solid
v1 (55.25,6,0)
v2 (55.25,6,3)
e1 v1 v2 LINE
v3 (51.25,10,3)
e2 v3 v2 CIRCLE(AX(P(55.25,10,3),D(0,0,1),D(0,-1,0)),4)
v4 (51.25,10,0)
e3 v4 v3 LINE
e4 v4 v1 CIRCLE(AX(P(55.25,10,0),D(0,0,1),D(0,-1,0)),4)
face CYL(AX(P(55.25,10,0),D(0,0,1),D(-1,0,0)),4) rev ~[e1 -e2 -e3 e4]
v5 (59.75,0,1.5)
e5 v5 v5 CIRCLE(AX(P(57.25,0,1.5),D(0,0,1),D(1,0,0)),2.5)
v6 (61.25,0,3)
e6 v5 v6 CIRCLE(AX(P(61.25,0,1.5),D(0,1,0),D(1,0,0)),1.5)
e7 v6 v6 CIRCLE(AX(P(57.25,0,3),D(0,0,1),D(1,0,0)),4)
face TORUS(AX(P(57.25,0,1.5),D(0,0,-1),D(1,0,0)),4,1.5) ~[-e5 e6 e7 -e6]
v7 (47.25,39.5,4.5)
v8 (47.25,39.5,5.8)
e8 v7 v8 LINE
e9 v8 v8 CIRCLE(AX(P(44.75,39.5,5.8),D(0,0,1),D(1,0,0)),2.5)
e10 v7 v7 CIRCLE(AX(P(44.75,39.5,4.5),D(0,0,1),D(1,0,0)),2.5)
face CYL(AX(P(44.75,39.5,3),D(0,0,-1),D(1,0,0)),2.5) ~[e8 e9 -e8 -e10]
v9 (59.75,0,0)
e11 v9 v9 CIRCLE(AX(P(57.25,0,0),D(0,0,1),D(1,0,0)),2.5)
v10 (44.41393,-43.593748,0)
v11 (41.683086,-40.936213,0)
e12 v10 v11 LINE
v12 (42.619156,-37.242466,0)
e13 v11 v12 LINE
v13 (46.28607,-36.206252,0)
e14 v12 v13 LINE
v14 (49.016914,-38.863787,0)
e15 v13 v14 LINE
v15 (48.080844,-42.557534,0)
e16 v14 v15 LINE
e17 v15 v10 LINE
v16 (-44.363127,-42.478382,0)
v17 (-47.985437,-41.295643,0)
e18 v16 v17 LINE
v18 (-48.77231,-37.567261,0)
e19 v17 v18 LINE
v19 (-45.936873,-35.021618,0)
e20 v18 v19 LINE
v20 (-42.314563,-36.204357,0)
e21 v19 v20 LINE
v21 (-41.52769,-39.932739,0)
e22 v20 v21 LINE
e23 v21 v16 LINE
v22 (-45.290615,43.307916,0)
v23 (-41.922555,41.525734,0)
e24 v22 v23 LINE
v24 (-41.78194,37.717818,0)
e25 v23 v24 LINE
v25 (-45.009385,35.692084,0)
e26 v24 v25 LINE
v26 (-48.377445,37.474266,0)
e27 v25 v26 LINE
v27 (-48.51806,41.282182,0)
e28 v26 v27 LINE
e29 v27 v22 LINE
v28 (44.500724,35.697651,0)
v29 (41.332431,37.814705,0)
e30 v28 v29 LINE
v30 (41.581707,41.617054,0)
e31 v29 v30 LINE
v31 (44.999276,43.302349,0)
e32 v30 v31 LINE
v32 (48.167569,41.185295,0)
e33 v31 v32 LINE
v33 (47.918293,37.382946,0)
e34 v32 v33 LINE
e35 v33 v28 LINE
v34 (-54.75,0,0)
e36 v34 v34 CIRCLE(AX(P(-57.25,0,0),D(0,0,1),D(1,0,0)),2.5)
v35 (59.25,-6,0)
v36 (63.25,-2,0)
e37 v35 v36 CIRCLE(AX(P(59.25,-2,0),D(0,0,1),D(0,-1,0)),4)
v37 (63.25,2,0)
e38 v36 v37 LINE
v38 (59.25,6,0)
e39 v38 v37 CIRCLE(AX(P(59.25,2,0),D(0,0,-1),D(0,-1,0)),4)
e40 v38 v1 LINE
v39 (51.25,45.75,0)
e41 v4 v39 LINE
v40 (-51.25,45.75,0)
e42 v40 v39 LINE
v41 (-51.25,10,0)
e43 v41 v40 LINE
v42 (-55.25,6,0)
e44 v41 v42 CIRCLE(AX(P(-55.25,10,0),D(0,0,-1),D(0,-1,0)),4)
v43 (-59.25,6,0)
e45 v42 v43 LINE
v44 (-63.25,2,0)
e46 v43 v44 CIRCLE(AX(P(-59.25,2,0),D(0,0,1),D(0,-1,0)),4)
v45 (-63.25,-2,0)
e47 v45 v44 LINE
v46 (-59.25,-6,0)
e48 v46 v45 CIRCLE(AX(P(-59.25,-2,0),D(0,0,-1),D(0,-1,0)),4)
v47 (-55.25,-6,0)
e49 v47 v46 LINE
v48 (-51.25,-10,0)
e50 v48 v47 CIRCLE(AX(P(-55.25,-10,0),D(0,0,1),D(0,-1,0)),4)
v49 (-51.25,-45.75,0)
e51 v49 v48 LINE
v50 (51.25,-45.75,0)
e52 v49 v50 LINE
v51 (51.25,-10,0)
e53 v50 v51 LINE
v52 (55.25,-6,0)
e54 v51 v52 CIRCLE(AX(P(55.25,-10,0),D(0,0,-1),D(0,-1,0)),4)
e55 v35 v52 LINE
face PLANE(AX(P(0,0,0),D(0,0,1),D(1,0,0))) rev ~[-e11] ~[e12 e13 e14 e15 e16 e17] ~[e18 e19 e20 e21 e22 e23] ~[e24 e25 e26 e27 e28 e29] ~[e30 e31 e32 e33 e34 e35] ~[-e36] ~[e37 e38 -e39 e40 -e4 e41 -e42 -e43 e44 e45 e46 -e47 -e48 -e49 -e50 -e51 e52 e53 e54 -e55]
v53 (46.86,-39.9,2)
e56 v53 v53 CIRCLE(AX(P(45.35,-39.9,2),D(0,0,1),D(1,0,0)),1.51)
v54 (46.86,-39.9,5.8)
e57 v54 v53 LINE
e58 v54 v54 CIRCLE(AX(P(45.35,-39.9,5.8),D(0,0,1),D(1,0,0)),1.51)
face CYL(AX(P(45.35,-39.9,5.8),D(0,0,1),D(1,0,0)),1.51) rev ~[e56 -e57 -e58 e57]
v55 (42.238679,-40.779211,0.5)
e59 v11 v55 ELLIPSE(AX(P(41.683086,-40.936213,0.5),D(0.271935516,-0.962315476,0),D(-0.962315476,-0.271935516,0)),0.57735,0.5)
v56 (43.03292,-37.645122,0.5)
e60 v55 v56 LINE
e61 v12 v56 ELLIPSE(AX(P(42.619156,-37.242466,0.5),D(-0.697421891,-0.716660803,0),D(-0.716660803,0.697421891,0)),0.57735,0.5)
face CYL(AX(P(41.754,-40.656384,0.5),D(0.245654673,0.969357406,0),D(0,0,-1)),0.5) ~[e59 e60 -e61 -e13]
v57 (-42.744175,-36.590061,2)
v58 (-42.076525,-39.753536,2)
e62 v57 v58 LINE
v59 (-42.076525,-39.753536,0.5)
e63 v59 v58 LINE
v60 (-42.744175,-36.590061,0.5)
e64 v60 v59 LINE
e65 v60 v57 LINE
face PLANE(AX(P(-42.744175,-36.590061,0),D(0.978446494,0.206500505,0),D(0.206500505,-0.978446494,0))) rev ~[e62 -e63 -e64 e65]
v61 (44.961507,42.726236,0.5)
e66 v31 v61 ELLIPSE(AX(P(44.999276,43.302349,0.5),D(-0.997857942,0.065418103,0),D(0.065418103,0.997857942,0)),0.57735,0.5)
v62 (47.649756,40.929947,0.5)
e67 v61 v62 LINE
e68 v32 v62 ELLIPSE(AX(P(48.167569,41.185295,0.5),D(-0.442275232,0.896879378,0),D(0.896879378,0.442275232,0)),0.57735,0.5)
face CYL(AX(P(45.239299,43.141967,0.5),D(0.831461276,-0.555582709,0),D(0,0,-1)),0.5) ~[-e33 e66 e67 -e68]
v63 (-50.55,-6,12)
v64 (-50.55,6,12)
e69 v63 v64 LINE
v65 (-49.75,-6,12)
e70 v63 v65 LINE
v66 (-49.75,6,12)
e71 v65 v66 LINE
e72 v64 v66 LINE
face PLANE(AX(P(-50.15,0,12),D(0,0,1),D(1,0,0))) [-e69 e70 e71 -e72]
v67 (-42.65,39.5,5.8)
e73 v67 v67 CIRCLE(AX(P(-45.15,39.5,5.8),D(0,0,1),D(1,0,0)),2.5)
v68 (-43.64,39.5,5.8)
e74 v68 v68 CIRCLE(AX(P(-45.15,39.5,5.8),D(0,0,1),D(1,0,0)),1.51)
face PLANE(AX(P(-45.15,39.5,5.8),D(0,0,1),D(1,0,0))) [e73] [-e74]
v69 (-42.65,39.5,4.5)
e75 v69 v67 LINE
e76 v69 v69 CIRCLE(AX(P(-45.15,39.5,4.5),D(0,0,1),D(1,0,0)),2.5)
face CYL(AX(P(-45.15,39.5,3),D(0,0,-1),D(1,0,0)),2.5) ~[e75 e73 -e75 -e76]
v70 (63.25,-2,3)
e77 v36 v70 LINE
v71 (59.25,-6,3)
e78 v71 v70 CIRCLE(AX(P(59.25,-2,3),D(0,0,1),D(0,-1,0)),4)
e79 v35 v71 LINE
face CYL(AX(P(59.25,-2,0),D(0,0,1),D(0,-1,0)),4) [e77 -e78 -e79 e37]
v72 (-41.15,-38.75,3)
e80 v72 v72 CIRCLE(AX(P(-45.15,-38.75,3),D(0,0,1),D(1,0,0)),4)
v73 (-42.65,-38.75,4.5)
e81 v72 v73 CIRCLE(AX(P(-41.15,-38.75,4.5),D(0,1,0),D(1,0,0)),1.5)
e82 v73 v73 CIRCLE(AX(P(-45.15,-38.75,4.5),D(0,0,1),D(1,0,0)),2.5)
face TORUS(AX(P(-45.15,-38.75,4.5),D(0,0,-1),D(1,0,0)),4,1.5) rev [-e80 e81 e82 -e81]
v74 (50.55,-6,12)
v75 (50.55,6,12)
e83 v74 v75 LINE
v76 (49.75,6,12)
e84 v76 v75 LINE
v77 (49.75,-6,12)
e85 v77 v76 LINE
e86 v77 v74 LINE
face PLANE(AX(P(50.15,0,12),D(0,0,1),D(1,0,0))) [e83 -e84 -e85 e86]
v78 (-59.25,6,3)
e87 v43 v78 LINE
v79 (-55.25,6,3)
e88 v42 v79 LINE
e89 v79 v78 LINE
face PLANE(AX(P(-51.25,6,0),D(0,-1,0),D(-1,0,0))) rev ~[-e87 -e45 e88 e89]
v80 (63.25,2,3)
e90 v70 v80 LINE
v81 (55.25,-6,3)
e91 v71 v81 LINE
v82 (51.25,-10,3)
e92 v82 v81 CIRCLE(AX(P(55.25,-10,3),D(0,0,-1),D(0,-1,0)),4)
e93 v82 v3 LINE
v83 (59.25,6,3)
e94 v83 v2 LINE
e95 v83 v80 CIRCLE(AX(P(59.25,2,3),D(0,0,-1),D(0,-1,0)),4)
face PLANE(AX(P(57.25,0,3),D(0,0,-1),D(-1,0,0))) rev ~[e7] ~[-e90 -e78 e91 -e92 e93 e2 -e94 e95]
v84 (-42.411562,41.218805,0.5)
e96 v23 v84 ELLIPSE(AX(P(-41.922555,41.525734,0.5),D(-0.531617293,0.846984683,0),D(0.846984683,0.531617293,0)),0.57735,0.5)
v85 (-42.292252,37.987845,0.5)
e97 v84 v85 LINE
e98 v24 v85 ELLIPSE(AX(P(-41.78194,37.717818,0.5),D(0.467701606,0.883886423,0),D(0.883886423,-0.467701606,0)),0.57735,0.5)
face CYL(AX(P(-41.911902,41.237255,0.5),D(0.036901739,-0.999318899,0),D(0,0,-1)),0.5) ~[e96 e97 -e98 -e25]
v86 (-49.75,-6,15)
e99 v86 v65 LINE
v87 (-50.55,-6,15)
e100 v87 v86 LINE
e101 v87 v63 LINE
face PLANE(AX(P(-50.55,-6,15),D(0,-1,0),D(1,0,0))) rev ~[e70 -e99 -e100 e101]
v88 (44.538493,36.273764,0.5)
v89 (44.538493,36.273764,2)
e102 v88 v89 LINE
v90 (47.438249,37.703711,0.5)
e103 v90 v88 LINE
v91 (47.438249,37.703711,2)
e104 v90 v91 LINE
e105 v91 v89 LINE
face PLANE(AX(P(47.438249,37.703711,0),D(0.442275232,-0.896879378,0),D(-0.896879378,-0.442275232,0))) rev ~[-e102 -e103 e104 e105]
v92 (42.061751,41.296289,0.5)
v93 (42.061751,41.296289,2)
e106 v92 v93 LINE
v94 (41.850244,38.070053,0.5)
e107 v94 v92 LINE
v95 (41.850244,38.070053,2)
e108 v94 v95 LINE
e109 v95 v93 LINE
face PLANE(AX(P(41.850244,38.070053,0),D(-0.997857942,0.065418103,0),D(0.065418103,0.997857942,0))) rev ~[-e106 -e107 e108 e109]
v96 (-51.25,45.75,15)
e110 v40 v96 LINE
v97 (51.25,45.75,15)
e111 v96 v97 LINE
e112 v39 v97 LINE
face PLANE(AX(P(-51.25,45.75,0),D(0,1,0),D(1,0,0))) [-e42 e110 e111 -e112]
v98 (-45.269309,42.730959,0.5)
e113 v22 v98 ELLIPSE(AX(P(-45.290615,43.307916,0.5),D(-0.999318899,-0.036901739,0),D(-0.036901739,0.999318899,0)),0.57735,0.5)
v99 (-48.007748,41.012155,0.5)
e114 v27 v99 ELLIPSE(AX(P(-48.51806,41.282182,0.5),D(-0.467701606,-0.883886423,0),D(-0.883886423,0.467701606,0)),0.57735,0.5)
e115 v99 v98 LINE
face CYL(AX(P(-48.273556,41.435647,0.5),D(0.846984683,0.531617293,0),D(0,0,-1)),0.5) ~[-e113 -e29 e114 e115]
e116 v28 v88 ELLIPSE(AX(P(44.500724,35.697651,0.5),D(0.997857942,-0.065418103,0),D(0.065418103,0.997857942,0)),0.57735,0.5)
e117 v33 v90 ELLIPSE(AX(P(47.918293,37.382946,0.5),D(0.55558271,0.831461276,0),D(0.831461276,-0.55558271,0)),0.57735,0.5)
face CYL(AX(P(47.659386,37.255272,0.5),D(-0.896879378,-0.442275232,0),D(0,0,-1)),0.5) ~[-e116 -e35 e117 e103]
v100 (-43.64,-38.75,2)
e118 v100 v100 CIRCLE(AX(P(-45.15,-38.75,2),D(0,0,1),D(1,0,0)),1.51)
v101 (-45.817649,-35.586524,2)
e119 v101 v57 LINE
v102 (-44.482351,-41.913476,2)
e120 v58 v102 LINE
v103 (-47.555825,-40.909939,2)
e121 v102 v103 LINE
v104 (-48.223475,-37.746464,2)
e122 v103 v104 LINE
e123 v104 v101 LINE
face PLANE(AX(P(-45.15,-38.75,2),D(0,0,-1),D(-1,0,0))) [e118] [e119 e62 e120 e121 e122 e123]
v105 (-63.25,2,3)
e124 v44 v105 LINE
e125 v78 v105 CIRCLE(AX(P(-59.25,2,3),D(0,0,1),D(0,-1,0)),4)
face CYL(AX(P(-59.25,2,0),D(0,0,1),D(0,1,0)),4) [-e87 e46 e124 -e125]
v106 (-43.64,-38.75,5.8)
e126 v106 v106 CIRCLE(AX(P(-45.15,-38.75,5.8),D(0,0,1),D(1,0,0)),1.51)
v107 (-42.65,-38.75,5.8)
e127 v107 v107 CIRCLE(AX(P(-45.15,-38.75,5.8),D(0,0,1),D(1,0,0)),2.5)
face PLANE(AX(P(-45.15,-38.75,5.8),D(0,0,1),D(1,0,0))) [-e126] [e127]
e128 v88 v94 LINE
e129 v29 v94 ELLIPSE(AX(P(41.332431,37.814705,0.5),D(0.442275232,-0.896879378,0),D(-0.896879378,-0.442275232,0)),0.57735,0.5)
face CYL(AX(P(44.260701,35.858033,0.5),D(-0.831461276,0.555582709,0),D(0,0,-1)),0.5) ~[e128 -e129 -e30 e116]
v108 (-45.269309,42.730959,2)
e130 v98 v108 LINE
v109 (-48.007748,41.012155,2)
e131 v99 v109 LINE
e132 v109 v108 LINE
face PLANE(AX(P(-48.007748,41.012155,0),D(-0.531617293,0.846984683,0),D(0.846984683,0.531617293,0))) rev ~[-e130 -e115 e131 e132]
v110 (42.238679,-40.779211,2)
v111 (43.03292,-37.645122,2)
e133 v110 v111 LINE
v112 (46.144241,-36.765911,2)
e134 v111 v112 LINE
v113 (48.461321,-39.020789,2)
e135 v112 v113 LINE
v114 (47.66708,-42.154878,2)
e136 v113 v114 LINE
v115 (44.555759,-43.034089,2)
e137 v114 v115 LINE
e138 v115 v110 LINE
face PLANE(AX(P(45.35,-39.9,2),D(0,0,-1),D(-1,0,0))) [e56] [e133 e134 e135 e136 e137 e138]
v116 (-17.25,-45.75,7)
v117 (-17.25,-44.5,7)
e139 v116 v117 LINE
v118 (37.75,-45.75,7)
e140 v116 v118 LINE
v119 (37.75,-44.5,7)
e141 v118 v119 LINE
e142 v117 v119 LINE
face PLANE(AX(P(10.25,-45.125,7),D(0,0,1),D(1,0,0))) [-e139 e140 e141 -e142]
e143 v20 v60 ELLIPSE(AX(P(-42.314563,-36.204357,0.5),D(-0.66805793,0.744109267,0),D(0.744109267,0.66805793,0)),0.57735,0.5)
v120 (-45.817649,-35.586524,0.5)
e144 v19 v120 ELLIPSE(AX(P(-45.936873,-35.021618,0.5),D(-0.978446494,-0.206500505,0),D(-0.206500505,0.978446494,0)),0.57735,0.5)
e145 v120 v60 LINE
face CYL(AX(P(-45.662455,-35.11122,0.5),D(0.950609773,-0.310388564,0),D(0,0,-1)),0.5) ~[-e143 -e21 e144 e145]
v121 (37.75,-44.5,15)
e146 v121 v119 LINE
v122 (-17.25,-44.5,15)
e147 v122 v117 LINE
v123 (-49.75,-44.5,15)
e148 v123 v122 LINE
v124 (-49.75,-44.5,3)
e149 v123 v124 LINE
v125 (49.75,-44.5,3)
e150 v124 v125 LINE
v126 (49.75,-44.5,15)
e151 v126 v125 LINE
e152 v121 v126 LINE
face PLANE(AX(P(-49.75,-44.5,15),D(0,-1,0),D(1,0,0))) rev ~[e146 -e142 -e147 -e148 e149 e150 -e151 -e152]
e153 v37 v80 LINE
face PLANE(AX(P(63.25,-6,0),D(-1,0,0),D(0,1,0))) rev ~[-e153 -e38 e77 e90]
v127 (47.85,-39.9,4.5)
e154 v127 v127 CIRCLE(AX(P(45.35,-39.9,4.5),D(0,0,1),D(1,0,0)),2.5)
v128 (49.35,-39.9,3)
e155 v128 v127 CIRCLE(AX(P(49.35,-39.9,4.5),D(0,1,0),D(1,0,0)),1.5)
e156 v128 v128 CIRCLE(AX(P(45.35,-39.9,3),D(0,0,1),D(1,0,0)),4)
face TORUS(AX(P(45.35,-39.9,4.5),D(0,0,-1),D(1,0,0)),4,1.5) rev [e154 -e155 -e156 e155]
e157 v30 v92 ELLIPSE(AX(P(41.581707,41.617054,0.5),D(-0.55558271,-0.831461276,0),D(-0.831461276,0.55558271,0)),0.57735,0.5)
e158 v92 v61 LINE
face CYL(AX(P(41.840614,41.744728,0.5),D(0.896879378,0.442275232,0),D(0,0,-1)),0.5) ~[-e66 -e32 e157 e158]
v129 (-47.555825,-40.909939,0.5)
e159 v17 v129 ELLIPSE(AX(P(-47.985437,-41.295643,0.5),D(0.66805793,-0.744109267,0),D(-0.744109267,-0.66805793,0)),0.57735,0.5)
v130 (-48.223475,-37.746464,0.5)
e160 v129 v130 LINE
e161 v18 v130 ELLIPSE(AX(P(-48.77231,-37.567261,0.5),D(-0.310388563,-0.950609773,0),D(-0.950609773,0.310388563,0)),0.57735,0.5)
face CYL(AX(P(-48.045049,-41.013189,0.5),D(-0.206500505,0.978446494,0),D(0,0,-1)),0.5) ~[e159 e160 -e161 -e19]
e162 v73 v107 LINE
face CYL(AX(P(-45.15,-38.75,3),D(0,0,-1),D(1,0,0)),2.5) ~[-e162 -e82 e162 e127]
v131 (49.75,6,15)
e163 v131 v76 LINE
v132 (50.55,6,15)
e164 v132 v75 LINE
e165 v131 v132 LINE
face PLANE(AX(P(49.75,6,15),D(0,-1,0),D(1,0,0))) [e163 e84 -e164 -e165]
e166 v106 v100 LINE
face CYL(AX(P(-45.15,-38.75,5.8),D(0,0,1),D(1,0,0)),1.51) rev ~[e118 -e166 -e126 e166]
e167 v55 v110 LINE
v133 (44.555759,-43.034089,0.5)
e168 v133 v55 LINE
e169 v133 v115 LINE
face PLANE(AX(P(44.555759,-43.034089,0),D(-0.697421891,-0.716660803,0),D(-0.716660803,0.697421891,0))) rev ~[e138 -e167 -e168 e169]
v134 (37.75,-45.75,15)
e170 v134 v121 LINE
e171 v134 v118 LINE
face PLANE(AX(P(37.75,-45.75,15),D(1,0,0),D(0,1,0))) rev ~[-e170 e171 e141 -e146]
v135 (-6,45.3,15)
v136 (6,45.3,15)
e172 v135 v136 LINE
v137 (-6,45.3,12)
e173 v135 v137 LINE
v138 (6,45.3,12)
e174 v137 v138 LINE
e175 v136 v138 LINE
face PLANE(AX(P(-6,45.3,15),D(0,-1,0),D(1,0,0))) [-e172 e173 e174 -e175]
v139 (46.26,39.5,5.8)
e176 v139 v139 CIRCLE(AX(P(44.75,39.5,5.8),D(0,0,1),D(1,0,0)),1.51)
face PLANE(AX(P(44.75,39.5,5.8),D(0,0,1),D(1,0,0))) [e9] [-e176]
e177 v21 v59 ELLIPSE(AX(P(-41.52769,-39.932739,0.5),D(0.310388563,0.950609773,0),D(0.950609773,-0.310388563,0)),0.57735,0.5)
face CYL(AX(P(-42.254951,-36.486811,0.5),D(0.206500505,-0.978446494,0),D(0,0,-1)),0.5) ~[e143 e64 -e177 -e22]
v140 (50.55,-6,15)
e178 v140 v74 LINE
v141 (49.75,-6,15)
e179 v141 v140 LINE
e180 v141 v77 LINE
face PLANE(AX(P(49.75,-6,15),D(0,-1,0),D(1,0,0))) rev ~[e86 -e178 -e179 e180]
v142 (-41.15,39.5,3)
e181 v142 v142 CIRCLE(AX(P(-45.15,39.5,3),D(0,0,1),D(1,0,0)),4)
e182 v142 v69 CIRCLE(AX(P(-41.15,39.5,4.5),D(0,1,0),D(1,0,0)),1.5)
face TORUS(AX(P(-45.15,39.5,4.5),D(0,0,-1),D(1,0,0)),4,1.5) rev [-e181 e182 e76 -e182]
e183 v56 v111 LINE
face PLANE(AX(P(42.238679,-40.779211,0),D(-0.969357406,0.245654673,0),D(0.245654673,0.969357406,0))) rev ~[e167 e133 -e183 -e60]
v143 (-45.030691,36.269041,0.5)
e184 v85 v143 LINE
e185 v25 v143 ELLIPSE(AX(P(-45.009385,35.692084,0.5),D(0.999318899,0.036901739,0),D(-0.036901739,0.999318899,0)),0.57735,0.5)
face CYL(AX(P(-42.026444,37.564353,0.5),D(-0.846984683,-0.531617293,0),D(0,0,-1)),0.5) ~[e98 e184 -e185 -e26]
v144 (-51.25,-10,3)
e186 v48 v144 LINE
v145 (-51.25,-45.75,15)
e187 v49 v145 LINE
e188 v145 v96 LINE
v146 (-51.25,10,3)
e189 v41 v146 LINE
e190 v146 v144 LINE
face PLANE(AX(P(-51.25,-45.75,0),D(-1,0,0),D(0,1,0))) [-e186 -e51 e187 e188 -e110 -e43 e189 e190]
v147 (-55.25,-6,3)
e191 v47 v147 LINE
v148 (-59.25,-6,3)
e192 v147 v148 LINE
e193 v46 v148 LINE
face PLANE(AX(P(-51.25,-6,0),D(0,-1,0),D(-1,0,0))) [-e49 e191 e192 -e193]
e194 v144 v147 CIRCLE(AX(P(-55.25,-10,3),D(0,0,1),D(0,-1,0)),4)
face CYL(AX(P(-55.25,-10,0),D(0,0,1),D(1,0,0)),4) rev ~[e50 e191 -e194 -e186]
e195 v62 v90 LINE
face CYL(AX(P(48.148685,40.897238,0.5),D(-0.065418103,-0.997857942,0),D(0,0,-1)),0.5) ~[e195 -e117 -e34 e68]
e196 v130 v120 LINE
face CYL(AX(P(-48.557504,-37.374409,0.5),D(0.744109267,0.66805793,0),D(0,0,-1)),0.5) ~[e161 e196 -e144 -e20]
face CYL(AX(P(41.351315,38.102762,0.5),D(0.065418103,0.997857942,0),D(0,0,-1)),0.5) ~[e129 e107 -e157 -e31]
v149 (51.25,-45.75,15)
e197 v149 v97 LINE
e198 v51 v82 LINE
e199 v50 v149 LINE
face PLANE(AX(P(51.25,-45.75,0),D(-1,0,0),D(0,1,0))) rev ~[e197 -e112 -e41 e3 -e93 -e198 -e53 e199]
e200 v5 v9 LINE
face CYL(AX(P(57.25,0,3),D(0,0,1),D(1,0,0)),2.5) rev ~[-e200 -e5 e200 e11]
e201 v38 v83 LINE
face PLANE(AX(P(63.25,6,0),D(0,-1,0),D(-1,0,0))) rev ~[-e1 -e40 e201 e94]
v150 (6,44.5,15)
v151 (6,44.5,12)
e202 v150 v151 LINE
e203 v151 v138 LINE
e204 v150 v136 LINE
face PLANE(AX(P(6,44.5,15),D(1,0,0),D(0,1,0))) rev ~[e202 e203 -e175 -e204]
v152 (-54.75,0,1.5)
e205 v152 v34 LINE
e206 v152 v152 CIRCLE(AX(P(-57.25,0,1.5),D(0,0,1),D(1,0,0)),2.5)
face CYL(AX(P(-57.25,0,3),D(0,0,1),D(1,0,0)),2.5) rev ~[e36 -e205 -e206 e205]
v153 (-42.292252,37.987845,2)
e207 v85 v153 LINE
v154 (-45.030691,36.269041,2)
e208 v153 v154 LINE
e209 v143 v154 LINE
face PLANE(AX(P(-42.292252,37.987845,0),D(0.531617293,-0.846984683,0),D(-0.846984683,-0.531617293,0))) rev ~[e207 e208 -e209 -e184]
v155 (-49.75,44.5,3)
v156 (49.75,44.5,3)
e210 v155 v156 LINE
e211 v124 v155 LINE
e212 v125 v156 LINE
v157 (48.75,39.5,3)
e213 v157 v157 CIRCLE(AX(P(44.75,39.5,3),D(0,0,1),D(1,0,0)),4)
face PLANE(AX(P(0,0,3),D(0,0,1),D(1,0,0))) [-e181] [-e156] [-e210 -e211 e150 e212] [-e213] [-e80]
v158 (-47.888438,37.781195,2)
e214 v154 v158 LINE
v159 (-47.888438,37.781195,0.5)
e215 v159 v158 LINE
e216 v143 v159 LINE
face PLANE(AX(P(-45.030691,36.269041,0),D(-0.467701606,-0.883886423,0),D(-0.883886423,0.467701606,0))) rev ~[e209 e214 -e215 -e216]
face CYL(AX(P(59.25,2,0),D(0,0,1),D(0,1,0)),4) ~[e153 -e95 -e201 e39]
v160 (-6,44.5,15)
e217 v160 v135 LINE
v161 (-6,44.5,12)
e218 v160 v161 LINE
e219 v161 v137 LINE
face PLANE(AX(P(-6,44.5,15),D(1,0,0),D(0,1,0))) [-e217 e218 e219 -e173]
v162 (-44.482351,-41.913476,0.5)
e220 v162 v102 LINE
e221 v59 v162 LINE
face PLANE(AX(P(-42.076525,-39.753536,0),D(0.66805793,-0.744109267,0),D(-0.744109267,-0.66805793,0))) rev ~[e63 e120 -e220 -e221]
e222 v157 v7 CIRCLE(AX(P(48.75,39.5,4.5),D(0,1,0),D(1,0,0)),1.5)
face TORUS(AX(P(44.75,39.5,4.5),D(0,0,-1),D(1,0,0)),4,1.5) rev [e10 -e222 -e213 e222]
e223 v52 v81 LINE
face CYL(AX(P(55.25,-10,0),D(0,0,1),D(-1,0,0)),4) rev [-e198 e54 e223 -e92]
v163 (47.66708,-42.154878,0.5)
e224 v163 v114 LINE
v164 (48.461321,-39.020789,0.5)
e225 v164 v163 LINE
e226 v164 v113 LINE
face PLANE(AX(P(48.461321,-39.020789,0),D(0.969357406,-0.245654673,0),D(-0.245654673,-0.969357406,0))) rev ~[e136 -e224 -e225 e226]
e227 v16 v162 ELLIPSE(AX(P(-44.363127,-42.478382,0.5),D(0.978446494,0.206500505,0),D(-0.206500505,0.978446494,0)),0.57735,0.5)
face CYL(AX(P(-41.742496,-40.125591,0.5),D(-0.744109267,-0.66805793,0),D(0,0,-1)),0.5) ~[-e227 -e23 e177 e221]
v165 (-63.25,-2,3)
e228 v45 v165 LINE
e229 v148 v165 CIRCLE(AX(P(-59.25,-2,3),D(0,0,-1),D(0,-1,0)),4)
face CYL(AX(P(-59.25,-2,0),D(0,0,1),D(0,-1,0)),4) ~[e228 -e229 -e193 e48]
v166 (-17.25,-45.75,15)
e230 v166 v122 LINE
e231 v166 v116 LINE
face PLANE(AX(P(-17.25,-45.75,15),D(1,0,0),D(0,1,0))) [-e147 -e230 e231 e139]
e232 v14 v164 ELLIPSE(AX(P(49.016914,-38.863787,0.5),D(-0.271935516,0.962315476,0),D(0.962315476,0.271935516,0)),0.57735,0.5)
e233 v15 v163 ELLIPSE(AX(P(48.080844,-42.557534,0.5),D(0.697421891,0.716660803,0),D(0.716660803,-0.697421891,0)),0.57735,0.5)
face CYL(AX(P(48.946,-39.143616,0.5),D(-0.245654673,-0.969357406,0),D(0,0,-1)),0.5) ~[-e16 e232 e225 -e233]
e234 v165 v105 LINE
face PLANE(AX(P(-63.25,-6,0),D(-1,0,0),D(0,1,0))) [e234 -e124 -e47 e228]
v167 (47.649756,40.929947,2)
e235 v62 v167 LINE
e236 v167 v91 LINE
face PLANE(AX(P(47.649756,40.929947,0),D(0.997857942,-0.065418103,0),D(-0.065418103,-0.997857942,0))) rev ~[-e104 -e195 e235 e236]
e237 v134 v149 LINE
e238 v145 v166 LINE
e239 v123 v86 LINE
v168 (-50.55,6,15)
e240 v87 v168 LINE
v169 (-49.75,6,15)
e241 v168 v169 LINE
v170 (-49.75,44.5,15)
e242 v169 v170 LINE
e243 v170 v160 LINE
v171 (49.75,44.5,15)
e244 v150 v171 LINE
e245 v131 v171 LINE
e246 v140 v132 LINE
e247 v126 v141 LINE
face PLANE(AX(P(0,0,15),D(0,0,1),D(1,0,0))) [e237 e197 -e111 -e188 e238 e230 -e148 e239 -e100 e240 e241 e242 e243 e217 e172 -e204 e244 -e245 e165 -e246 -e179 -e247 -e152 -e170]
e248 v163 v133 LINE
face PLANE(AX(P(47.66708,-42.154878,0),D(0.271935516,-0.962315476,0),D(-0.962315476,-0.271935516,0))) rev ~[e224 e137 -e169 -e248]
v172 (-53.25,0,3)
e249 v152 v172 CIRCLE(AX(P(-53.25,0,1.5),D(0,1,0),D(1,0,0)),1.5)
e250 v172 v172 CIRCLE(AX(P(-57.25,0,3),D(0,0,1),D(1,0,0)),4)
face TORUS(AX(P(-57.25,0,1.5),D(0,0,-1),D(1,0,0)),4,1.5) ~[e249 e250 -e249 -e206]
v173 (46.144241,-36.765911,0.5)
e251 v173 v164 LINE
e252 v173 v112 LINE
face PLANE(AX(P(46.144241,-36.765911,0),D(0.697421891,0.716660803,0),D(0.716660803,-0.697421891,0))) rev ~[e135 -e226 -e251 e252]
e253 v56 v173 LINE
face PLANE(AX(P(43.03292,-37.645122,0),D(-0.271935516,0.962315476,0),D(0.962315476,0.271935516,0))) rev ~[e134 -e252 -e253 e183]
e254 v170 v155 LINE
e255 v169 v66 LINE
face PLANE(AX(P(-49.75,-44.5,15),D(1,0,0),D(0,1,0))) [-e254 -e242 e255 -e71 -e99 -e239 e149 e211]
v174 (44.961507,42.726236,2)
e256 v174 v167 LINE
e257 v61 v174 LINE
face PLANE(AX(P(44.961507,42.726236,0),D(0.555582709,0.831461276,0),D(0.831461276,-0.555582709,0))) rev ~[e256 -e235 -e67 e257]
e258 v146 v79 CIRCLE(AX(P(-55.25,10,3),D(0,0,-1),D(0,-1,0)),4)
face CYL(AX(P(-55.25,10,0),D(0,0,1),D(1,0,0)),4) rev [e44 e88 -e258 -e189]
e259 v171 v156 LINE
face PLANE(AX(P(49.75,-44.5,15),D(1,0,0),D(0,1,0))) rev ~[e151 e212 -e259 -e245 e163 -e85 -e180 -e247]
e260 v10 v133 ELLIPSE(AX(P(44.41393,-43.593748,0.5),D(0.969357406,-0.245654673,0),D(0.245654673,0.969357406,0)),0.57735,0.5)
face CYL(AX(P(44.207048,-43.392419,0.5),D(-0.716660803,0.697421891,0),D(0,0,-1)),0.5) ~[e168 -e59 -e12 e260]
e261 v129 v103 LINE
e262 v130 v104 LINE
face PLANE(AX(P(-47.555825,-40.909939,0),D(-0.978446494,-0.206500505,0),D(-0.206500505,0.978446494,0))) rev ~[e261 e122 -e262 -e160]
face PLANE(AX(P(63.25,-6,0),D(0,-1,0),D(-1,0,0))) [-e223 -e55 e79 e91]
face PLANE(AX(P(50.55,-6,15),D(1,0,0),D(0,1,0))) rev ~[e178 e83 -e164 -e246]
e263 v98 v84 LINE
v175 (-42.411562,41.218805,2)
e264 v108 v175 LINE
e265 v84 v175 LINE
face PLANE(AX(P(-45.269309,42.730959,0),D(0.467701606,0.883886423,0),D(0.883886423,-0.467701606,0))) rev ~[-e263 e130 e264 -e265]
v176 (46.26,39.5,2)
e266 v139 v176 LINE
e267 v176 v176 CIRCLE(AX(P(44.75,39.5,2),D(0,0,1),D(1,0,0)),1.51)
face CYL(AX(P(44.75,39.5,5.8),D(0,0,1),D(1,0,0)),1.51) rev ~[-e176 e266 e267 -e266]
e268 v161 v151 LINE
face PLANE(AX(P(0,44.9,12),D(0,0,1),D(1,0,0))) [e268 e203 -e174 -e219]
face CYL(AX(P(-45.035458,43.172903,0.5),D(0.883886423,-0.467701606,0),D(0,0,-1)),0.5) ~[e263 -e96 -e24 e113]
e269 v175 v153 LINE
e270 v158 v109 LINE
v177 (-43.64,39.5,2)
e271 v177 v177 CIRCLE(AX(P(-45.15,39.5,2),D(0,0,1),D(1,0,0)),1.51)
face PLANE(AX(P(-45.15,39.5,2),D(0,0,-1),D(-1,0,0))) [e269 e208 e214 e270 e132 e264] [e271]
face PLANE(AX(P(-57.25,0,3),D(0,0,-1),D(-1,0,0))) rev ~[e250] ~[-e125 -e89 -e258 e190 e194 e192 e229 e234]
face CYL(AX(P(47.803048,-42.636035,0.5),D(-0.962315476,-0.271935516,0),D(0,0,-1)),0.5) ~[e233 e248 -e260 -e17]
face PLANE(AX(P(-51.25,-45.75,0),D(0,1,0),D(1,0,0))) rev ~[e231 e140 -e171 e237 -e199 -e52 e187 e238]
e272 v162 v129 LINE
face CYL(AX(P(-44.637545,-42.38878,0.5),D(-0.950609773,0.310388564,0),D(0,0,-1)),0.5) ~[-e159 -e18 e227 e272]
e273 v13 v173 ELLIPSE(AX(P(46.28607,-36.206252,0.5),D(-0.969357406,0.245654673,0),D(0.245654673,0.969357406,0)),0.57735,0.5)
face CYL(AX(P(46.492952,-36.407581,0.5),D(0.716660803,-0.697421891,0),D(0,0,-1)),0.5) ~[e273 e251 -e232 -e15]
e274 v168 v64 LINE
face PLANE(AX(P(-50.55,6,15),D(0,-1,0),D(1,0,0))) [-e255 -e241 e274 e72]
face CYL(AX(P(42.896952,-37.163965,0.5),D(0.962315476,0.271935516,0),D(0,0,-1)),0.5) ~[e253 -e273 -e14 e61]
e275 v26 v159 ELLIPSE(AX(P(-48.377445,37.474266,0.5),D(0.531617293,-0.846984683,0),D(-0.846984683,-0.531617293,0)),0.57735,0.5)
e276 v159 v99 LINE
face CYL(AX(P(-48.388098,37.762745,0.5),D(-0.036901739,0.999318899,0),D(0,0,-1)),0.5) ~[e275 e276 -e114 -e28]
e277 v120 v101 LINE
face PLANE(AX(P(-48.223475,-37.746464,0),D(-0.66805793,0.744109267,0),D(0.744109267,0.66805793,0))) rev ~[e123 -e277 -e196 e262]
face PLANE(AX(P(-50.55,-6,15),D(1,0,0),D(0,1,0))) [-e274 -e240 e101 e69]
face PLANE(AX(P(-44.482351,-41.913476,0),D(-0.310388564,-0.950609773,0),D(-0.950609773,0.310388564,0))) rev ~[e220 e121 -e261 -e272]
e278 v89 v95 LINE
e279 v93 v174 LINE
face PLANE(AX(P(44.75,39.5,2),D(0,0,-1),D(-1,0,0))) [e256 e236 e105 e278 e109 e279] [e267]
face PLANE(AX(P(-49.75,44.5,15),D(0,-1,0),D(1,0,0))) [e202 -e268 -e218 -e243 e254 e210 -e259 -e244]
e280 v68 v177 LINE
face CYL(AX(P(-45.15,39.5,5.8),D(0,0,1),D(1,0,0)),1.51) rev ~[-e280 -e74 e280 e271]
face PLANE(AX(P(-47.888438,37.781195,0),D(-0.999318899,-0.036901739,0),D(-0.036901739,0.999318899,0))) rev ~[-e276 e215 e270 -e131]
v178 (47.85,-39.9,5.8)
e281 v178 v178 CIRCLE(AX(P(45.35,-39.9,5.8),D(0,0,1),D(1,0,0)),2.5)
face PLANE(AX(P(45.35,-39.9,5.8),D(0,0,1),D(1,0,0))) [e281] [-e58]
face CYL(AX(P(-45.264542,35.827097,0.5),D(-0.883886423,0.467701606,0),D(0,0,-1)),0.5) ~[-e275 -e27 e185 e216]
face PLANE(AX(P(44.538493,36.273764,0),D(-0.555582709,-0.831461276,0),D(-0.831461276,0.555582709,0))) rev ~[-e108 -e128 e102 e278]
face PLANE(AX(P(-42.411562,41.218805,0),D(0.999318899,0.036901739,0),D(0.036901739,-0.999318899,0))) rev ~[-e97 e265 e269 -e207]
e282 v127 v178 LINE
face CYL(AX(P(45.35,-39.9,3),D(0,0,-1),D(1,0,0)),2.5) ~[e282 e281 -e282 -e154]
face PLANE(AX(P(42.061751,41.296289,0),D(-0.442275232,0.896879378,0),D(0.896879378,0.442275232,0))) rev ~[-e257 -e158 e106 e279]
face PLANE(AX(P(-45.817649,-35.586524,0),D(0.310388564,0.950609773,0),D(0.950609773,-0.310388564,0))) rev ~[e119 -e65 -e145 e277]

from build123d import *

# Parameters (mm, degrees)
SKETCH_1_W          = 102.5
SKETCH_1_H          = 91.5
EXTRUDE_1_DEPTH     = 15
SKETCH_2_W          = 99.5
SKETCH_2_H          = 89
CUT_EXTRUDE_1_DEPTH = 12
SKETCH_3_W          = 55
SKETCH_3_H          = 1.25
CUT_EXTRUDE_2_DEPTH = 8
SKETCH_8_R          = 1.5
EXTRUDE_2_DEPTH     = 0.1
SKETCH_9_R          = 2.5
EXTRUDE_3_DEPTH     = 2.8
SKETCH_10_W         = 0.8
SKETCH_10_H         = 12
SKETCH_10_W_2       = 12
SKETCH_10_H_2       = 0.8
CUT_EXTRUDE_3_DEPTH = 3
SKETCH_12_R         = 1.51
CUT_EXTRUDE_4_DEPTH = 10
SKETCH_14_W         = 12
SKETCH_14_H         = 12
EXTRUDE_4_DEPTH     = 3
FILLET_4_R          = 4
SKETCH_15_R         = 2.5
CUT_EXTRUDE_5_DEPTH = 3
FILLET_5_R          = 1.5
CUT_EXTRUDE_6_DEPTH = 2
FILLET_6_R          = 1.5
FILLET_7_R          = 0.5


with BuildPart() as part:
    # Эскиз1 → Бобышка-Вытянуть1 (new body)
    with BuildSketch(Plane.XY):
        Rectangle(SKETCH_1_W, SKETCH_1_H)
    extrude(amount=EXTRUDE_1_DEPTH)

    # Эскиз2 → Вырез-Вытянуть1 (cut)
    with BuildSketch(Plane.XY.offset(15)):
        Rectangle(SKETCH_2_W, SKETCH_2_H)
    extrude(amount=-CUT_EXTRUDE_1_DEPTH, mode=Mode.SUBTRACT)

    # Эскиз3 → Вырез-Вытянуть2 (cut)
    with BuildSketch(Plane.XY.offset(15)):
        with Locations((10.25, -45.125)):
            Rectangle(SKETCH_3_W, SKETCH_3_H)
    extrude(amount=-CUT_EXTRUDE_2_DEPTH, mode=Mode.SUBTRACT)

    # Эскиз8 → Бобышка-Вытянуть2 (add)
    with BuildSketch(Plane.XY.offset(3)):
        with Locations((-45.15, 39.5)):
            Circle(SKETCH_8_R)
        with Locations((44.75, 39.5)):
            Circle(SKETCH_8_R)
        with Locations((-45.15, -38.75)):
            Circle(SKETCH_8_R)
        with Locations((45.35, -39.9)):
            Circle(SKETCH_8_R)
    extrude(amount=EXTRUDE_2_DEPTH)

    # Эскиз9 → Бобышка-Вытянуть3 (add)
    with BuildSketch(Plane.XY.offset(3)):
        with Locations((-45.15, 39.5)):
            Circle(SKETCH_9_R)
        with Locations((44.75, 39.5)):
            Circle(SKETCH_9_R)
        with Locations((-45.15, -38.75)):
            Circle(SKETCH_9_R)
        with Locations((45.35, -39.9)):
            Circle(SKETCH_9_R)
    extrude(amount=EXTRUDE_3_DEPTH)

    # Эскиз10 → Вырез-Вытянуть3 (cut)
    with BuildSketch(Plane.XY.offset(15)):
        with Locations((-50.15, 0)):
            Rectangle(SKETCH_10_W, SKETCH_10_H)
        with Locations((0, 44.9)):
            Rectangle(SKETCH_10_W_2, SKETCH_10_H_2)
        with Locations((50.15, 0)):
            Rectangle(SKETCH_10_W, SKETCH_10_H)
    extrude(amount=-CUT_EXTRUDE_3_DEPTH, mode=Mode.SUBTRACT)

    # Эскиз12 → Вырез-Вытянуть4 (cut)
    with BuildSketch(Plane.XY.offset(5.8)):
        with Locations((-45.15, 39.5)):
            Circle(SKETCH_12_R)
        with Locations((44.75, 39.5)):
            Circle(SKETCH_12_R)
        with Locations((-45.15, -38.75)):
            Circle(SKETCH_12_R)
        with Locations((45.35, -39.9)):
            Circle(SKETCH_12_R)
    extrude(amount=-CUT_EXTRUDE_4_DEPTH, mode=Mode.SUBTRACT)

    # Эскиз14 → Бобышка-Вытянуть4 (add)
    with BuildSketch(Plane(origin=(0, 0, 0), x_dir=(-1, 0, 0), z_dir=(0, 0, -1))):
        with Locations((-57.25, 0)):
            Rectangle(SKETCH_14_W, SKETCH_14_H)
        with Locations((57.25, 0)):
            Rectangle(SKETCH_14_W, SKETCH_14_H)
    extrude(amount=-EXTRUDE_4_DEPTH)

    # Скругление4
    fillet_4_edges = [part.edges().sort_by_distance(p)[0] for p in [
        (51.25, 6, 1.5),
        (51.25, -6, 1.5),
        (63.25, -6, 1.5),
        (63.25, 6, 1.5),
        (-51.25, -6, 1.5),
        (-51.25, 6, 1.5),
        (-63.25, 6, 1.5),
        (-63.25, -6, 1.5),
    ]]
    fillet(fillet_4_edges, radius=FILLET_4_R)

    # Эскиз15 → Вырез-Вытянуть5 (cut)
    with BuildSketch(Plane.XY.offset(3)):
        with Locations((-57.25, 0)):
            Circle(SKETCH_15_R)
        with Locations((57.25, 0)):
            Circle(SKETCH_15_R)
    extrude(amount=-CUT_EXTRUDE_5_DEPTH, mode=Mode.SUBTRACT)

    # Скругление5
    fillet_5_edges = [part.edges().sort_by_distance(p)[0] for p in [
        (-59.75, 0, 3),
        (54.75, 0, 3),
    ]]
    fillet(fillet_5_edges, radius=FILLET_5_R)

    # Эскиз13 → Вырез-Вытянуть6 (cut)
    with BuildSketch(Plane(origin=(0, 0, 0), x_dir=(-1, 0, 0), z_dir=(0, 0, -1))):
        Polygon((-41.850244118, 38.070052743), (-42.061751409, 41.296288631), (-44.961507291, 42.726235887), (-47.649755882, 40.929947257), (-47.438248591, 37.703711369), (-44.538492709, 36.273764113), align=None)
        Polygon((-42.238678645, -40.779211442), (-43.032919879, -37.645122388), (-46.144241234, -36.765910946), (-48.461321355, -39.020788558), (-47.667080121, -42.154877612), (-44.555758766, -43.034089054), align=None)
        Polygon((47.55582544, -40.909939185), (48.223474925, -37.746463644), (45.817649485, -35.586524459), (42.74417456, -36.590060815), (42.076525075, -39.753536356), (44.482350515, -41.913475541), align=None)
        Polygon((47.888438275, 37.781195431), (48.007747558, 41.012154829), (45.269309283, 42.730959397), (42.411561725, 41.218804569), (42.292252442, 37.987845171), (45.030690717, 36.269040603), align=None)
    extrude(amount=-CUT_EXTRUDE_6_DEPTH, mode=Mode.SUBTRACT)

    # Скругление6
    fillet_6_edges = [part.edges().sort_by_distance(p)[0] for p in [
        (-47.65, 39.5, 3),
        (42.25, 39.5, 3),
        (-47.65, -38.75, 3),
        (42.85, -39.9, 3),
    ]]
    fillet(fillet_6_edges, radius=FILLET_6_R)

    # Скругление7
    fillet_7_edges = [part.edges().sort_by_distance(p)[0] for p in [
        (-46.459564496, 37.025118017, 0),
        (-47.948092917, 39.39667513, 0),
        (-46.638528421, 41.871557113, 0),
        (-43.840435504, 41.974881983, 0),
        (-42.351907083, 39.60332487, 0),
        (-43.661471579, 37.128442887, 0),
        (-46.019087978, -41.411707363, 0),
        (-47.889650183, -39.328201415, 0),
        (-47.020562205, -36.666494052, 0),
        (-44.280912022, -36.088292637, 0),
        (-42.410349817, -38.171798585, 0),
        (-43.279437795, -40.833505948, 0),
        (43.397218706, -41.906650248, 0),
        (42.635799262, -39.212166915, 0),
        (44.588580556, -37.205516667, 0),
        (47.302781294, -37.893349752, 0),
        (48.064200738, -40.587833085, 0),
        (46.111419444, -42.594483333, 0),
        (43.194368413, 37.171908428, 0),
        (41.955997763, 39.683170687, 0),
        (43.51162935, 42.011262259, 0),
        (46.305631587, 41.828091572, 0),
        (47.544002237, 39.316829313, 0),
        (45.98837065, 36.988737741, 0),
    ]]
    fillet(fillet_7_edges, radius=FILLET_7_R)


solid = part.part
